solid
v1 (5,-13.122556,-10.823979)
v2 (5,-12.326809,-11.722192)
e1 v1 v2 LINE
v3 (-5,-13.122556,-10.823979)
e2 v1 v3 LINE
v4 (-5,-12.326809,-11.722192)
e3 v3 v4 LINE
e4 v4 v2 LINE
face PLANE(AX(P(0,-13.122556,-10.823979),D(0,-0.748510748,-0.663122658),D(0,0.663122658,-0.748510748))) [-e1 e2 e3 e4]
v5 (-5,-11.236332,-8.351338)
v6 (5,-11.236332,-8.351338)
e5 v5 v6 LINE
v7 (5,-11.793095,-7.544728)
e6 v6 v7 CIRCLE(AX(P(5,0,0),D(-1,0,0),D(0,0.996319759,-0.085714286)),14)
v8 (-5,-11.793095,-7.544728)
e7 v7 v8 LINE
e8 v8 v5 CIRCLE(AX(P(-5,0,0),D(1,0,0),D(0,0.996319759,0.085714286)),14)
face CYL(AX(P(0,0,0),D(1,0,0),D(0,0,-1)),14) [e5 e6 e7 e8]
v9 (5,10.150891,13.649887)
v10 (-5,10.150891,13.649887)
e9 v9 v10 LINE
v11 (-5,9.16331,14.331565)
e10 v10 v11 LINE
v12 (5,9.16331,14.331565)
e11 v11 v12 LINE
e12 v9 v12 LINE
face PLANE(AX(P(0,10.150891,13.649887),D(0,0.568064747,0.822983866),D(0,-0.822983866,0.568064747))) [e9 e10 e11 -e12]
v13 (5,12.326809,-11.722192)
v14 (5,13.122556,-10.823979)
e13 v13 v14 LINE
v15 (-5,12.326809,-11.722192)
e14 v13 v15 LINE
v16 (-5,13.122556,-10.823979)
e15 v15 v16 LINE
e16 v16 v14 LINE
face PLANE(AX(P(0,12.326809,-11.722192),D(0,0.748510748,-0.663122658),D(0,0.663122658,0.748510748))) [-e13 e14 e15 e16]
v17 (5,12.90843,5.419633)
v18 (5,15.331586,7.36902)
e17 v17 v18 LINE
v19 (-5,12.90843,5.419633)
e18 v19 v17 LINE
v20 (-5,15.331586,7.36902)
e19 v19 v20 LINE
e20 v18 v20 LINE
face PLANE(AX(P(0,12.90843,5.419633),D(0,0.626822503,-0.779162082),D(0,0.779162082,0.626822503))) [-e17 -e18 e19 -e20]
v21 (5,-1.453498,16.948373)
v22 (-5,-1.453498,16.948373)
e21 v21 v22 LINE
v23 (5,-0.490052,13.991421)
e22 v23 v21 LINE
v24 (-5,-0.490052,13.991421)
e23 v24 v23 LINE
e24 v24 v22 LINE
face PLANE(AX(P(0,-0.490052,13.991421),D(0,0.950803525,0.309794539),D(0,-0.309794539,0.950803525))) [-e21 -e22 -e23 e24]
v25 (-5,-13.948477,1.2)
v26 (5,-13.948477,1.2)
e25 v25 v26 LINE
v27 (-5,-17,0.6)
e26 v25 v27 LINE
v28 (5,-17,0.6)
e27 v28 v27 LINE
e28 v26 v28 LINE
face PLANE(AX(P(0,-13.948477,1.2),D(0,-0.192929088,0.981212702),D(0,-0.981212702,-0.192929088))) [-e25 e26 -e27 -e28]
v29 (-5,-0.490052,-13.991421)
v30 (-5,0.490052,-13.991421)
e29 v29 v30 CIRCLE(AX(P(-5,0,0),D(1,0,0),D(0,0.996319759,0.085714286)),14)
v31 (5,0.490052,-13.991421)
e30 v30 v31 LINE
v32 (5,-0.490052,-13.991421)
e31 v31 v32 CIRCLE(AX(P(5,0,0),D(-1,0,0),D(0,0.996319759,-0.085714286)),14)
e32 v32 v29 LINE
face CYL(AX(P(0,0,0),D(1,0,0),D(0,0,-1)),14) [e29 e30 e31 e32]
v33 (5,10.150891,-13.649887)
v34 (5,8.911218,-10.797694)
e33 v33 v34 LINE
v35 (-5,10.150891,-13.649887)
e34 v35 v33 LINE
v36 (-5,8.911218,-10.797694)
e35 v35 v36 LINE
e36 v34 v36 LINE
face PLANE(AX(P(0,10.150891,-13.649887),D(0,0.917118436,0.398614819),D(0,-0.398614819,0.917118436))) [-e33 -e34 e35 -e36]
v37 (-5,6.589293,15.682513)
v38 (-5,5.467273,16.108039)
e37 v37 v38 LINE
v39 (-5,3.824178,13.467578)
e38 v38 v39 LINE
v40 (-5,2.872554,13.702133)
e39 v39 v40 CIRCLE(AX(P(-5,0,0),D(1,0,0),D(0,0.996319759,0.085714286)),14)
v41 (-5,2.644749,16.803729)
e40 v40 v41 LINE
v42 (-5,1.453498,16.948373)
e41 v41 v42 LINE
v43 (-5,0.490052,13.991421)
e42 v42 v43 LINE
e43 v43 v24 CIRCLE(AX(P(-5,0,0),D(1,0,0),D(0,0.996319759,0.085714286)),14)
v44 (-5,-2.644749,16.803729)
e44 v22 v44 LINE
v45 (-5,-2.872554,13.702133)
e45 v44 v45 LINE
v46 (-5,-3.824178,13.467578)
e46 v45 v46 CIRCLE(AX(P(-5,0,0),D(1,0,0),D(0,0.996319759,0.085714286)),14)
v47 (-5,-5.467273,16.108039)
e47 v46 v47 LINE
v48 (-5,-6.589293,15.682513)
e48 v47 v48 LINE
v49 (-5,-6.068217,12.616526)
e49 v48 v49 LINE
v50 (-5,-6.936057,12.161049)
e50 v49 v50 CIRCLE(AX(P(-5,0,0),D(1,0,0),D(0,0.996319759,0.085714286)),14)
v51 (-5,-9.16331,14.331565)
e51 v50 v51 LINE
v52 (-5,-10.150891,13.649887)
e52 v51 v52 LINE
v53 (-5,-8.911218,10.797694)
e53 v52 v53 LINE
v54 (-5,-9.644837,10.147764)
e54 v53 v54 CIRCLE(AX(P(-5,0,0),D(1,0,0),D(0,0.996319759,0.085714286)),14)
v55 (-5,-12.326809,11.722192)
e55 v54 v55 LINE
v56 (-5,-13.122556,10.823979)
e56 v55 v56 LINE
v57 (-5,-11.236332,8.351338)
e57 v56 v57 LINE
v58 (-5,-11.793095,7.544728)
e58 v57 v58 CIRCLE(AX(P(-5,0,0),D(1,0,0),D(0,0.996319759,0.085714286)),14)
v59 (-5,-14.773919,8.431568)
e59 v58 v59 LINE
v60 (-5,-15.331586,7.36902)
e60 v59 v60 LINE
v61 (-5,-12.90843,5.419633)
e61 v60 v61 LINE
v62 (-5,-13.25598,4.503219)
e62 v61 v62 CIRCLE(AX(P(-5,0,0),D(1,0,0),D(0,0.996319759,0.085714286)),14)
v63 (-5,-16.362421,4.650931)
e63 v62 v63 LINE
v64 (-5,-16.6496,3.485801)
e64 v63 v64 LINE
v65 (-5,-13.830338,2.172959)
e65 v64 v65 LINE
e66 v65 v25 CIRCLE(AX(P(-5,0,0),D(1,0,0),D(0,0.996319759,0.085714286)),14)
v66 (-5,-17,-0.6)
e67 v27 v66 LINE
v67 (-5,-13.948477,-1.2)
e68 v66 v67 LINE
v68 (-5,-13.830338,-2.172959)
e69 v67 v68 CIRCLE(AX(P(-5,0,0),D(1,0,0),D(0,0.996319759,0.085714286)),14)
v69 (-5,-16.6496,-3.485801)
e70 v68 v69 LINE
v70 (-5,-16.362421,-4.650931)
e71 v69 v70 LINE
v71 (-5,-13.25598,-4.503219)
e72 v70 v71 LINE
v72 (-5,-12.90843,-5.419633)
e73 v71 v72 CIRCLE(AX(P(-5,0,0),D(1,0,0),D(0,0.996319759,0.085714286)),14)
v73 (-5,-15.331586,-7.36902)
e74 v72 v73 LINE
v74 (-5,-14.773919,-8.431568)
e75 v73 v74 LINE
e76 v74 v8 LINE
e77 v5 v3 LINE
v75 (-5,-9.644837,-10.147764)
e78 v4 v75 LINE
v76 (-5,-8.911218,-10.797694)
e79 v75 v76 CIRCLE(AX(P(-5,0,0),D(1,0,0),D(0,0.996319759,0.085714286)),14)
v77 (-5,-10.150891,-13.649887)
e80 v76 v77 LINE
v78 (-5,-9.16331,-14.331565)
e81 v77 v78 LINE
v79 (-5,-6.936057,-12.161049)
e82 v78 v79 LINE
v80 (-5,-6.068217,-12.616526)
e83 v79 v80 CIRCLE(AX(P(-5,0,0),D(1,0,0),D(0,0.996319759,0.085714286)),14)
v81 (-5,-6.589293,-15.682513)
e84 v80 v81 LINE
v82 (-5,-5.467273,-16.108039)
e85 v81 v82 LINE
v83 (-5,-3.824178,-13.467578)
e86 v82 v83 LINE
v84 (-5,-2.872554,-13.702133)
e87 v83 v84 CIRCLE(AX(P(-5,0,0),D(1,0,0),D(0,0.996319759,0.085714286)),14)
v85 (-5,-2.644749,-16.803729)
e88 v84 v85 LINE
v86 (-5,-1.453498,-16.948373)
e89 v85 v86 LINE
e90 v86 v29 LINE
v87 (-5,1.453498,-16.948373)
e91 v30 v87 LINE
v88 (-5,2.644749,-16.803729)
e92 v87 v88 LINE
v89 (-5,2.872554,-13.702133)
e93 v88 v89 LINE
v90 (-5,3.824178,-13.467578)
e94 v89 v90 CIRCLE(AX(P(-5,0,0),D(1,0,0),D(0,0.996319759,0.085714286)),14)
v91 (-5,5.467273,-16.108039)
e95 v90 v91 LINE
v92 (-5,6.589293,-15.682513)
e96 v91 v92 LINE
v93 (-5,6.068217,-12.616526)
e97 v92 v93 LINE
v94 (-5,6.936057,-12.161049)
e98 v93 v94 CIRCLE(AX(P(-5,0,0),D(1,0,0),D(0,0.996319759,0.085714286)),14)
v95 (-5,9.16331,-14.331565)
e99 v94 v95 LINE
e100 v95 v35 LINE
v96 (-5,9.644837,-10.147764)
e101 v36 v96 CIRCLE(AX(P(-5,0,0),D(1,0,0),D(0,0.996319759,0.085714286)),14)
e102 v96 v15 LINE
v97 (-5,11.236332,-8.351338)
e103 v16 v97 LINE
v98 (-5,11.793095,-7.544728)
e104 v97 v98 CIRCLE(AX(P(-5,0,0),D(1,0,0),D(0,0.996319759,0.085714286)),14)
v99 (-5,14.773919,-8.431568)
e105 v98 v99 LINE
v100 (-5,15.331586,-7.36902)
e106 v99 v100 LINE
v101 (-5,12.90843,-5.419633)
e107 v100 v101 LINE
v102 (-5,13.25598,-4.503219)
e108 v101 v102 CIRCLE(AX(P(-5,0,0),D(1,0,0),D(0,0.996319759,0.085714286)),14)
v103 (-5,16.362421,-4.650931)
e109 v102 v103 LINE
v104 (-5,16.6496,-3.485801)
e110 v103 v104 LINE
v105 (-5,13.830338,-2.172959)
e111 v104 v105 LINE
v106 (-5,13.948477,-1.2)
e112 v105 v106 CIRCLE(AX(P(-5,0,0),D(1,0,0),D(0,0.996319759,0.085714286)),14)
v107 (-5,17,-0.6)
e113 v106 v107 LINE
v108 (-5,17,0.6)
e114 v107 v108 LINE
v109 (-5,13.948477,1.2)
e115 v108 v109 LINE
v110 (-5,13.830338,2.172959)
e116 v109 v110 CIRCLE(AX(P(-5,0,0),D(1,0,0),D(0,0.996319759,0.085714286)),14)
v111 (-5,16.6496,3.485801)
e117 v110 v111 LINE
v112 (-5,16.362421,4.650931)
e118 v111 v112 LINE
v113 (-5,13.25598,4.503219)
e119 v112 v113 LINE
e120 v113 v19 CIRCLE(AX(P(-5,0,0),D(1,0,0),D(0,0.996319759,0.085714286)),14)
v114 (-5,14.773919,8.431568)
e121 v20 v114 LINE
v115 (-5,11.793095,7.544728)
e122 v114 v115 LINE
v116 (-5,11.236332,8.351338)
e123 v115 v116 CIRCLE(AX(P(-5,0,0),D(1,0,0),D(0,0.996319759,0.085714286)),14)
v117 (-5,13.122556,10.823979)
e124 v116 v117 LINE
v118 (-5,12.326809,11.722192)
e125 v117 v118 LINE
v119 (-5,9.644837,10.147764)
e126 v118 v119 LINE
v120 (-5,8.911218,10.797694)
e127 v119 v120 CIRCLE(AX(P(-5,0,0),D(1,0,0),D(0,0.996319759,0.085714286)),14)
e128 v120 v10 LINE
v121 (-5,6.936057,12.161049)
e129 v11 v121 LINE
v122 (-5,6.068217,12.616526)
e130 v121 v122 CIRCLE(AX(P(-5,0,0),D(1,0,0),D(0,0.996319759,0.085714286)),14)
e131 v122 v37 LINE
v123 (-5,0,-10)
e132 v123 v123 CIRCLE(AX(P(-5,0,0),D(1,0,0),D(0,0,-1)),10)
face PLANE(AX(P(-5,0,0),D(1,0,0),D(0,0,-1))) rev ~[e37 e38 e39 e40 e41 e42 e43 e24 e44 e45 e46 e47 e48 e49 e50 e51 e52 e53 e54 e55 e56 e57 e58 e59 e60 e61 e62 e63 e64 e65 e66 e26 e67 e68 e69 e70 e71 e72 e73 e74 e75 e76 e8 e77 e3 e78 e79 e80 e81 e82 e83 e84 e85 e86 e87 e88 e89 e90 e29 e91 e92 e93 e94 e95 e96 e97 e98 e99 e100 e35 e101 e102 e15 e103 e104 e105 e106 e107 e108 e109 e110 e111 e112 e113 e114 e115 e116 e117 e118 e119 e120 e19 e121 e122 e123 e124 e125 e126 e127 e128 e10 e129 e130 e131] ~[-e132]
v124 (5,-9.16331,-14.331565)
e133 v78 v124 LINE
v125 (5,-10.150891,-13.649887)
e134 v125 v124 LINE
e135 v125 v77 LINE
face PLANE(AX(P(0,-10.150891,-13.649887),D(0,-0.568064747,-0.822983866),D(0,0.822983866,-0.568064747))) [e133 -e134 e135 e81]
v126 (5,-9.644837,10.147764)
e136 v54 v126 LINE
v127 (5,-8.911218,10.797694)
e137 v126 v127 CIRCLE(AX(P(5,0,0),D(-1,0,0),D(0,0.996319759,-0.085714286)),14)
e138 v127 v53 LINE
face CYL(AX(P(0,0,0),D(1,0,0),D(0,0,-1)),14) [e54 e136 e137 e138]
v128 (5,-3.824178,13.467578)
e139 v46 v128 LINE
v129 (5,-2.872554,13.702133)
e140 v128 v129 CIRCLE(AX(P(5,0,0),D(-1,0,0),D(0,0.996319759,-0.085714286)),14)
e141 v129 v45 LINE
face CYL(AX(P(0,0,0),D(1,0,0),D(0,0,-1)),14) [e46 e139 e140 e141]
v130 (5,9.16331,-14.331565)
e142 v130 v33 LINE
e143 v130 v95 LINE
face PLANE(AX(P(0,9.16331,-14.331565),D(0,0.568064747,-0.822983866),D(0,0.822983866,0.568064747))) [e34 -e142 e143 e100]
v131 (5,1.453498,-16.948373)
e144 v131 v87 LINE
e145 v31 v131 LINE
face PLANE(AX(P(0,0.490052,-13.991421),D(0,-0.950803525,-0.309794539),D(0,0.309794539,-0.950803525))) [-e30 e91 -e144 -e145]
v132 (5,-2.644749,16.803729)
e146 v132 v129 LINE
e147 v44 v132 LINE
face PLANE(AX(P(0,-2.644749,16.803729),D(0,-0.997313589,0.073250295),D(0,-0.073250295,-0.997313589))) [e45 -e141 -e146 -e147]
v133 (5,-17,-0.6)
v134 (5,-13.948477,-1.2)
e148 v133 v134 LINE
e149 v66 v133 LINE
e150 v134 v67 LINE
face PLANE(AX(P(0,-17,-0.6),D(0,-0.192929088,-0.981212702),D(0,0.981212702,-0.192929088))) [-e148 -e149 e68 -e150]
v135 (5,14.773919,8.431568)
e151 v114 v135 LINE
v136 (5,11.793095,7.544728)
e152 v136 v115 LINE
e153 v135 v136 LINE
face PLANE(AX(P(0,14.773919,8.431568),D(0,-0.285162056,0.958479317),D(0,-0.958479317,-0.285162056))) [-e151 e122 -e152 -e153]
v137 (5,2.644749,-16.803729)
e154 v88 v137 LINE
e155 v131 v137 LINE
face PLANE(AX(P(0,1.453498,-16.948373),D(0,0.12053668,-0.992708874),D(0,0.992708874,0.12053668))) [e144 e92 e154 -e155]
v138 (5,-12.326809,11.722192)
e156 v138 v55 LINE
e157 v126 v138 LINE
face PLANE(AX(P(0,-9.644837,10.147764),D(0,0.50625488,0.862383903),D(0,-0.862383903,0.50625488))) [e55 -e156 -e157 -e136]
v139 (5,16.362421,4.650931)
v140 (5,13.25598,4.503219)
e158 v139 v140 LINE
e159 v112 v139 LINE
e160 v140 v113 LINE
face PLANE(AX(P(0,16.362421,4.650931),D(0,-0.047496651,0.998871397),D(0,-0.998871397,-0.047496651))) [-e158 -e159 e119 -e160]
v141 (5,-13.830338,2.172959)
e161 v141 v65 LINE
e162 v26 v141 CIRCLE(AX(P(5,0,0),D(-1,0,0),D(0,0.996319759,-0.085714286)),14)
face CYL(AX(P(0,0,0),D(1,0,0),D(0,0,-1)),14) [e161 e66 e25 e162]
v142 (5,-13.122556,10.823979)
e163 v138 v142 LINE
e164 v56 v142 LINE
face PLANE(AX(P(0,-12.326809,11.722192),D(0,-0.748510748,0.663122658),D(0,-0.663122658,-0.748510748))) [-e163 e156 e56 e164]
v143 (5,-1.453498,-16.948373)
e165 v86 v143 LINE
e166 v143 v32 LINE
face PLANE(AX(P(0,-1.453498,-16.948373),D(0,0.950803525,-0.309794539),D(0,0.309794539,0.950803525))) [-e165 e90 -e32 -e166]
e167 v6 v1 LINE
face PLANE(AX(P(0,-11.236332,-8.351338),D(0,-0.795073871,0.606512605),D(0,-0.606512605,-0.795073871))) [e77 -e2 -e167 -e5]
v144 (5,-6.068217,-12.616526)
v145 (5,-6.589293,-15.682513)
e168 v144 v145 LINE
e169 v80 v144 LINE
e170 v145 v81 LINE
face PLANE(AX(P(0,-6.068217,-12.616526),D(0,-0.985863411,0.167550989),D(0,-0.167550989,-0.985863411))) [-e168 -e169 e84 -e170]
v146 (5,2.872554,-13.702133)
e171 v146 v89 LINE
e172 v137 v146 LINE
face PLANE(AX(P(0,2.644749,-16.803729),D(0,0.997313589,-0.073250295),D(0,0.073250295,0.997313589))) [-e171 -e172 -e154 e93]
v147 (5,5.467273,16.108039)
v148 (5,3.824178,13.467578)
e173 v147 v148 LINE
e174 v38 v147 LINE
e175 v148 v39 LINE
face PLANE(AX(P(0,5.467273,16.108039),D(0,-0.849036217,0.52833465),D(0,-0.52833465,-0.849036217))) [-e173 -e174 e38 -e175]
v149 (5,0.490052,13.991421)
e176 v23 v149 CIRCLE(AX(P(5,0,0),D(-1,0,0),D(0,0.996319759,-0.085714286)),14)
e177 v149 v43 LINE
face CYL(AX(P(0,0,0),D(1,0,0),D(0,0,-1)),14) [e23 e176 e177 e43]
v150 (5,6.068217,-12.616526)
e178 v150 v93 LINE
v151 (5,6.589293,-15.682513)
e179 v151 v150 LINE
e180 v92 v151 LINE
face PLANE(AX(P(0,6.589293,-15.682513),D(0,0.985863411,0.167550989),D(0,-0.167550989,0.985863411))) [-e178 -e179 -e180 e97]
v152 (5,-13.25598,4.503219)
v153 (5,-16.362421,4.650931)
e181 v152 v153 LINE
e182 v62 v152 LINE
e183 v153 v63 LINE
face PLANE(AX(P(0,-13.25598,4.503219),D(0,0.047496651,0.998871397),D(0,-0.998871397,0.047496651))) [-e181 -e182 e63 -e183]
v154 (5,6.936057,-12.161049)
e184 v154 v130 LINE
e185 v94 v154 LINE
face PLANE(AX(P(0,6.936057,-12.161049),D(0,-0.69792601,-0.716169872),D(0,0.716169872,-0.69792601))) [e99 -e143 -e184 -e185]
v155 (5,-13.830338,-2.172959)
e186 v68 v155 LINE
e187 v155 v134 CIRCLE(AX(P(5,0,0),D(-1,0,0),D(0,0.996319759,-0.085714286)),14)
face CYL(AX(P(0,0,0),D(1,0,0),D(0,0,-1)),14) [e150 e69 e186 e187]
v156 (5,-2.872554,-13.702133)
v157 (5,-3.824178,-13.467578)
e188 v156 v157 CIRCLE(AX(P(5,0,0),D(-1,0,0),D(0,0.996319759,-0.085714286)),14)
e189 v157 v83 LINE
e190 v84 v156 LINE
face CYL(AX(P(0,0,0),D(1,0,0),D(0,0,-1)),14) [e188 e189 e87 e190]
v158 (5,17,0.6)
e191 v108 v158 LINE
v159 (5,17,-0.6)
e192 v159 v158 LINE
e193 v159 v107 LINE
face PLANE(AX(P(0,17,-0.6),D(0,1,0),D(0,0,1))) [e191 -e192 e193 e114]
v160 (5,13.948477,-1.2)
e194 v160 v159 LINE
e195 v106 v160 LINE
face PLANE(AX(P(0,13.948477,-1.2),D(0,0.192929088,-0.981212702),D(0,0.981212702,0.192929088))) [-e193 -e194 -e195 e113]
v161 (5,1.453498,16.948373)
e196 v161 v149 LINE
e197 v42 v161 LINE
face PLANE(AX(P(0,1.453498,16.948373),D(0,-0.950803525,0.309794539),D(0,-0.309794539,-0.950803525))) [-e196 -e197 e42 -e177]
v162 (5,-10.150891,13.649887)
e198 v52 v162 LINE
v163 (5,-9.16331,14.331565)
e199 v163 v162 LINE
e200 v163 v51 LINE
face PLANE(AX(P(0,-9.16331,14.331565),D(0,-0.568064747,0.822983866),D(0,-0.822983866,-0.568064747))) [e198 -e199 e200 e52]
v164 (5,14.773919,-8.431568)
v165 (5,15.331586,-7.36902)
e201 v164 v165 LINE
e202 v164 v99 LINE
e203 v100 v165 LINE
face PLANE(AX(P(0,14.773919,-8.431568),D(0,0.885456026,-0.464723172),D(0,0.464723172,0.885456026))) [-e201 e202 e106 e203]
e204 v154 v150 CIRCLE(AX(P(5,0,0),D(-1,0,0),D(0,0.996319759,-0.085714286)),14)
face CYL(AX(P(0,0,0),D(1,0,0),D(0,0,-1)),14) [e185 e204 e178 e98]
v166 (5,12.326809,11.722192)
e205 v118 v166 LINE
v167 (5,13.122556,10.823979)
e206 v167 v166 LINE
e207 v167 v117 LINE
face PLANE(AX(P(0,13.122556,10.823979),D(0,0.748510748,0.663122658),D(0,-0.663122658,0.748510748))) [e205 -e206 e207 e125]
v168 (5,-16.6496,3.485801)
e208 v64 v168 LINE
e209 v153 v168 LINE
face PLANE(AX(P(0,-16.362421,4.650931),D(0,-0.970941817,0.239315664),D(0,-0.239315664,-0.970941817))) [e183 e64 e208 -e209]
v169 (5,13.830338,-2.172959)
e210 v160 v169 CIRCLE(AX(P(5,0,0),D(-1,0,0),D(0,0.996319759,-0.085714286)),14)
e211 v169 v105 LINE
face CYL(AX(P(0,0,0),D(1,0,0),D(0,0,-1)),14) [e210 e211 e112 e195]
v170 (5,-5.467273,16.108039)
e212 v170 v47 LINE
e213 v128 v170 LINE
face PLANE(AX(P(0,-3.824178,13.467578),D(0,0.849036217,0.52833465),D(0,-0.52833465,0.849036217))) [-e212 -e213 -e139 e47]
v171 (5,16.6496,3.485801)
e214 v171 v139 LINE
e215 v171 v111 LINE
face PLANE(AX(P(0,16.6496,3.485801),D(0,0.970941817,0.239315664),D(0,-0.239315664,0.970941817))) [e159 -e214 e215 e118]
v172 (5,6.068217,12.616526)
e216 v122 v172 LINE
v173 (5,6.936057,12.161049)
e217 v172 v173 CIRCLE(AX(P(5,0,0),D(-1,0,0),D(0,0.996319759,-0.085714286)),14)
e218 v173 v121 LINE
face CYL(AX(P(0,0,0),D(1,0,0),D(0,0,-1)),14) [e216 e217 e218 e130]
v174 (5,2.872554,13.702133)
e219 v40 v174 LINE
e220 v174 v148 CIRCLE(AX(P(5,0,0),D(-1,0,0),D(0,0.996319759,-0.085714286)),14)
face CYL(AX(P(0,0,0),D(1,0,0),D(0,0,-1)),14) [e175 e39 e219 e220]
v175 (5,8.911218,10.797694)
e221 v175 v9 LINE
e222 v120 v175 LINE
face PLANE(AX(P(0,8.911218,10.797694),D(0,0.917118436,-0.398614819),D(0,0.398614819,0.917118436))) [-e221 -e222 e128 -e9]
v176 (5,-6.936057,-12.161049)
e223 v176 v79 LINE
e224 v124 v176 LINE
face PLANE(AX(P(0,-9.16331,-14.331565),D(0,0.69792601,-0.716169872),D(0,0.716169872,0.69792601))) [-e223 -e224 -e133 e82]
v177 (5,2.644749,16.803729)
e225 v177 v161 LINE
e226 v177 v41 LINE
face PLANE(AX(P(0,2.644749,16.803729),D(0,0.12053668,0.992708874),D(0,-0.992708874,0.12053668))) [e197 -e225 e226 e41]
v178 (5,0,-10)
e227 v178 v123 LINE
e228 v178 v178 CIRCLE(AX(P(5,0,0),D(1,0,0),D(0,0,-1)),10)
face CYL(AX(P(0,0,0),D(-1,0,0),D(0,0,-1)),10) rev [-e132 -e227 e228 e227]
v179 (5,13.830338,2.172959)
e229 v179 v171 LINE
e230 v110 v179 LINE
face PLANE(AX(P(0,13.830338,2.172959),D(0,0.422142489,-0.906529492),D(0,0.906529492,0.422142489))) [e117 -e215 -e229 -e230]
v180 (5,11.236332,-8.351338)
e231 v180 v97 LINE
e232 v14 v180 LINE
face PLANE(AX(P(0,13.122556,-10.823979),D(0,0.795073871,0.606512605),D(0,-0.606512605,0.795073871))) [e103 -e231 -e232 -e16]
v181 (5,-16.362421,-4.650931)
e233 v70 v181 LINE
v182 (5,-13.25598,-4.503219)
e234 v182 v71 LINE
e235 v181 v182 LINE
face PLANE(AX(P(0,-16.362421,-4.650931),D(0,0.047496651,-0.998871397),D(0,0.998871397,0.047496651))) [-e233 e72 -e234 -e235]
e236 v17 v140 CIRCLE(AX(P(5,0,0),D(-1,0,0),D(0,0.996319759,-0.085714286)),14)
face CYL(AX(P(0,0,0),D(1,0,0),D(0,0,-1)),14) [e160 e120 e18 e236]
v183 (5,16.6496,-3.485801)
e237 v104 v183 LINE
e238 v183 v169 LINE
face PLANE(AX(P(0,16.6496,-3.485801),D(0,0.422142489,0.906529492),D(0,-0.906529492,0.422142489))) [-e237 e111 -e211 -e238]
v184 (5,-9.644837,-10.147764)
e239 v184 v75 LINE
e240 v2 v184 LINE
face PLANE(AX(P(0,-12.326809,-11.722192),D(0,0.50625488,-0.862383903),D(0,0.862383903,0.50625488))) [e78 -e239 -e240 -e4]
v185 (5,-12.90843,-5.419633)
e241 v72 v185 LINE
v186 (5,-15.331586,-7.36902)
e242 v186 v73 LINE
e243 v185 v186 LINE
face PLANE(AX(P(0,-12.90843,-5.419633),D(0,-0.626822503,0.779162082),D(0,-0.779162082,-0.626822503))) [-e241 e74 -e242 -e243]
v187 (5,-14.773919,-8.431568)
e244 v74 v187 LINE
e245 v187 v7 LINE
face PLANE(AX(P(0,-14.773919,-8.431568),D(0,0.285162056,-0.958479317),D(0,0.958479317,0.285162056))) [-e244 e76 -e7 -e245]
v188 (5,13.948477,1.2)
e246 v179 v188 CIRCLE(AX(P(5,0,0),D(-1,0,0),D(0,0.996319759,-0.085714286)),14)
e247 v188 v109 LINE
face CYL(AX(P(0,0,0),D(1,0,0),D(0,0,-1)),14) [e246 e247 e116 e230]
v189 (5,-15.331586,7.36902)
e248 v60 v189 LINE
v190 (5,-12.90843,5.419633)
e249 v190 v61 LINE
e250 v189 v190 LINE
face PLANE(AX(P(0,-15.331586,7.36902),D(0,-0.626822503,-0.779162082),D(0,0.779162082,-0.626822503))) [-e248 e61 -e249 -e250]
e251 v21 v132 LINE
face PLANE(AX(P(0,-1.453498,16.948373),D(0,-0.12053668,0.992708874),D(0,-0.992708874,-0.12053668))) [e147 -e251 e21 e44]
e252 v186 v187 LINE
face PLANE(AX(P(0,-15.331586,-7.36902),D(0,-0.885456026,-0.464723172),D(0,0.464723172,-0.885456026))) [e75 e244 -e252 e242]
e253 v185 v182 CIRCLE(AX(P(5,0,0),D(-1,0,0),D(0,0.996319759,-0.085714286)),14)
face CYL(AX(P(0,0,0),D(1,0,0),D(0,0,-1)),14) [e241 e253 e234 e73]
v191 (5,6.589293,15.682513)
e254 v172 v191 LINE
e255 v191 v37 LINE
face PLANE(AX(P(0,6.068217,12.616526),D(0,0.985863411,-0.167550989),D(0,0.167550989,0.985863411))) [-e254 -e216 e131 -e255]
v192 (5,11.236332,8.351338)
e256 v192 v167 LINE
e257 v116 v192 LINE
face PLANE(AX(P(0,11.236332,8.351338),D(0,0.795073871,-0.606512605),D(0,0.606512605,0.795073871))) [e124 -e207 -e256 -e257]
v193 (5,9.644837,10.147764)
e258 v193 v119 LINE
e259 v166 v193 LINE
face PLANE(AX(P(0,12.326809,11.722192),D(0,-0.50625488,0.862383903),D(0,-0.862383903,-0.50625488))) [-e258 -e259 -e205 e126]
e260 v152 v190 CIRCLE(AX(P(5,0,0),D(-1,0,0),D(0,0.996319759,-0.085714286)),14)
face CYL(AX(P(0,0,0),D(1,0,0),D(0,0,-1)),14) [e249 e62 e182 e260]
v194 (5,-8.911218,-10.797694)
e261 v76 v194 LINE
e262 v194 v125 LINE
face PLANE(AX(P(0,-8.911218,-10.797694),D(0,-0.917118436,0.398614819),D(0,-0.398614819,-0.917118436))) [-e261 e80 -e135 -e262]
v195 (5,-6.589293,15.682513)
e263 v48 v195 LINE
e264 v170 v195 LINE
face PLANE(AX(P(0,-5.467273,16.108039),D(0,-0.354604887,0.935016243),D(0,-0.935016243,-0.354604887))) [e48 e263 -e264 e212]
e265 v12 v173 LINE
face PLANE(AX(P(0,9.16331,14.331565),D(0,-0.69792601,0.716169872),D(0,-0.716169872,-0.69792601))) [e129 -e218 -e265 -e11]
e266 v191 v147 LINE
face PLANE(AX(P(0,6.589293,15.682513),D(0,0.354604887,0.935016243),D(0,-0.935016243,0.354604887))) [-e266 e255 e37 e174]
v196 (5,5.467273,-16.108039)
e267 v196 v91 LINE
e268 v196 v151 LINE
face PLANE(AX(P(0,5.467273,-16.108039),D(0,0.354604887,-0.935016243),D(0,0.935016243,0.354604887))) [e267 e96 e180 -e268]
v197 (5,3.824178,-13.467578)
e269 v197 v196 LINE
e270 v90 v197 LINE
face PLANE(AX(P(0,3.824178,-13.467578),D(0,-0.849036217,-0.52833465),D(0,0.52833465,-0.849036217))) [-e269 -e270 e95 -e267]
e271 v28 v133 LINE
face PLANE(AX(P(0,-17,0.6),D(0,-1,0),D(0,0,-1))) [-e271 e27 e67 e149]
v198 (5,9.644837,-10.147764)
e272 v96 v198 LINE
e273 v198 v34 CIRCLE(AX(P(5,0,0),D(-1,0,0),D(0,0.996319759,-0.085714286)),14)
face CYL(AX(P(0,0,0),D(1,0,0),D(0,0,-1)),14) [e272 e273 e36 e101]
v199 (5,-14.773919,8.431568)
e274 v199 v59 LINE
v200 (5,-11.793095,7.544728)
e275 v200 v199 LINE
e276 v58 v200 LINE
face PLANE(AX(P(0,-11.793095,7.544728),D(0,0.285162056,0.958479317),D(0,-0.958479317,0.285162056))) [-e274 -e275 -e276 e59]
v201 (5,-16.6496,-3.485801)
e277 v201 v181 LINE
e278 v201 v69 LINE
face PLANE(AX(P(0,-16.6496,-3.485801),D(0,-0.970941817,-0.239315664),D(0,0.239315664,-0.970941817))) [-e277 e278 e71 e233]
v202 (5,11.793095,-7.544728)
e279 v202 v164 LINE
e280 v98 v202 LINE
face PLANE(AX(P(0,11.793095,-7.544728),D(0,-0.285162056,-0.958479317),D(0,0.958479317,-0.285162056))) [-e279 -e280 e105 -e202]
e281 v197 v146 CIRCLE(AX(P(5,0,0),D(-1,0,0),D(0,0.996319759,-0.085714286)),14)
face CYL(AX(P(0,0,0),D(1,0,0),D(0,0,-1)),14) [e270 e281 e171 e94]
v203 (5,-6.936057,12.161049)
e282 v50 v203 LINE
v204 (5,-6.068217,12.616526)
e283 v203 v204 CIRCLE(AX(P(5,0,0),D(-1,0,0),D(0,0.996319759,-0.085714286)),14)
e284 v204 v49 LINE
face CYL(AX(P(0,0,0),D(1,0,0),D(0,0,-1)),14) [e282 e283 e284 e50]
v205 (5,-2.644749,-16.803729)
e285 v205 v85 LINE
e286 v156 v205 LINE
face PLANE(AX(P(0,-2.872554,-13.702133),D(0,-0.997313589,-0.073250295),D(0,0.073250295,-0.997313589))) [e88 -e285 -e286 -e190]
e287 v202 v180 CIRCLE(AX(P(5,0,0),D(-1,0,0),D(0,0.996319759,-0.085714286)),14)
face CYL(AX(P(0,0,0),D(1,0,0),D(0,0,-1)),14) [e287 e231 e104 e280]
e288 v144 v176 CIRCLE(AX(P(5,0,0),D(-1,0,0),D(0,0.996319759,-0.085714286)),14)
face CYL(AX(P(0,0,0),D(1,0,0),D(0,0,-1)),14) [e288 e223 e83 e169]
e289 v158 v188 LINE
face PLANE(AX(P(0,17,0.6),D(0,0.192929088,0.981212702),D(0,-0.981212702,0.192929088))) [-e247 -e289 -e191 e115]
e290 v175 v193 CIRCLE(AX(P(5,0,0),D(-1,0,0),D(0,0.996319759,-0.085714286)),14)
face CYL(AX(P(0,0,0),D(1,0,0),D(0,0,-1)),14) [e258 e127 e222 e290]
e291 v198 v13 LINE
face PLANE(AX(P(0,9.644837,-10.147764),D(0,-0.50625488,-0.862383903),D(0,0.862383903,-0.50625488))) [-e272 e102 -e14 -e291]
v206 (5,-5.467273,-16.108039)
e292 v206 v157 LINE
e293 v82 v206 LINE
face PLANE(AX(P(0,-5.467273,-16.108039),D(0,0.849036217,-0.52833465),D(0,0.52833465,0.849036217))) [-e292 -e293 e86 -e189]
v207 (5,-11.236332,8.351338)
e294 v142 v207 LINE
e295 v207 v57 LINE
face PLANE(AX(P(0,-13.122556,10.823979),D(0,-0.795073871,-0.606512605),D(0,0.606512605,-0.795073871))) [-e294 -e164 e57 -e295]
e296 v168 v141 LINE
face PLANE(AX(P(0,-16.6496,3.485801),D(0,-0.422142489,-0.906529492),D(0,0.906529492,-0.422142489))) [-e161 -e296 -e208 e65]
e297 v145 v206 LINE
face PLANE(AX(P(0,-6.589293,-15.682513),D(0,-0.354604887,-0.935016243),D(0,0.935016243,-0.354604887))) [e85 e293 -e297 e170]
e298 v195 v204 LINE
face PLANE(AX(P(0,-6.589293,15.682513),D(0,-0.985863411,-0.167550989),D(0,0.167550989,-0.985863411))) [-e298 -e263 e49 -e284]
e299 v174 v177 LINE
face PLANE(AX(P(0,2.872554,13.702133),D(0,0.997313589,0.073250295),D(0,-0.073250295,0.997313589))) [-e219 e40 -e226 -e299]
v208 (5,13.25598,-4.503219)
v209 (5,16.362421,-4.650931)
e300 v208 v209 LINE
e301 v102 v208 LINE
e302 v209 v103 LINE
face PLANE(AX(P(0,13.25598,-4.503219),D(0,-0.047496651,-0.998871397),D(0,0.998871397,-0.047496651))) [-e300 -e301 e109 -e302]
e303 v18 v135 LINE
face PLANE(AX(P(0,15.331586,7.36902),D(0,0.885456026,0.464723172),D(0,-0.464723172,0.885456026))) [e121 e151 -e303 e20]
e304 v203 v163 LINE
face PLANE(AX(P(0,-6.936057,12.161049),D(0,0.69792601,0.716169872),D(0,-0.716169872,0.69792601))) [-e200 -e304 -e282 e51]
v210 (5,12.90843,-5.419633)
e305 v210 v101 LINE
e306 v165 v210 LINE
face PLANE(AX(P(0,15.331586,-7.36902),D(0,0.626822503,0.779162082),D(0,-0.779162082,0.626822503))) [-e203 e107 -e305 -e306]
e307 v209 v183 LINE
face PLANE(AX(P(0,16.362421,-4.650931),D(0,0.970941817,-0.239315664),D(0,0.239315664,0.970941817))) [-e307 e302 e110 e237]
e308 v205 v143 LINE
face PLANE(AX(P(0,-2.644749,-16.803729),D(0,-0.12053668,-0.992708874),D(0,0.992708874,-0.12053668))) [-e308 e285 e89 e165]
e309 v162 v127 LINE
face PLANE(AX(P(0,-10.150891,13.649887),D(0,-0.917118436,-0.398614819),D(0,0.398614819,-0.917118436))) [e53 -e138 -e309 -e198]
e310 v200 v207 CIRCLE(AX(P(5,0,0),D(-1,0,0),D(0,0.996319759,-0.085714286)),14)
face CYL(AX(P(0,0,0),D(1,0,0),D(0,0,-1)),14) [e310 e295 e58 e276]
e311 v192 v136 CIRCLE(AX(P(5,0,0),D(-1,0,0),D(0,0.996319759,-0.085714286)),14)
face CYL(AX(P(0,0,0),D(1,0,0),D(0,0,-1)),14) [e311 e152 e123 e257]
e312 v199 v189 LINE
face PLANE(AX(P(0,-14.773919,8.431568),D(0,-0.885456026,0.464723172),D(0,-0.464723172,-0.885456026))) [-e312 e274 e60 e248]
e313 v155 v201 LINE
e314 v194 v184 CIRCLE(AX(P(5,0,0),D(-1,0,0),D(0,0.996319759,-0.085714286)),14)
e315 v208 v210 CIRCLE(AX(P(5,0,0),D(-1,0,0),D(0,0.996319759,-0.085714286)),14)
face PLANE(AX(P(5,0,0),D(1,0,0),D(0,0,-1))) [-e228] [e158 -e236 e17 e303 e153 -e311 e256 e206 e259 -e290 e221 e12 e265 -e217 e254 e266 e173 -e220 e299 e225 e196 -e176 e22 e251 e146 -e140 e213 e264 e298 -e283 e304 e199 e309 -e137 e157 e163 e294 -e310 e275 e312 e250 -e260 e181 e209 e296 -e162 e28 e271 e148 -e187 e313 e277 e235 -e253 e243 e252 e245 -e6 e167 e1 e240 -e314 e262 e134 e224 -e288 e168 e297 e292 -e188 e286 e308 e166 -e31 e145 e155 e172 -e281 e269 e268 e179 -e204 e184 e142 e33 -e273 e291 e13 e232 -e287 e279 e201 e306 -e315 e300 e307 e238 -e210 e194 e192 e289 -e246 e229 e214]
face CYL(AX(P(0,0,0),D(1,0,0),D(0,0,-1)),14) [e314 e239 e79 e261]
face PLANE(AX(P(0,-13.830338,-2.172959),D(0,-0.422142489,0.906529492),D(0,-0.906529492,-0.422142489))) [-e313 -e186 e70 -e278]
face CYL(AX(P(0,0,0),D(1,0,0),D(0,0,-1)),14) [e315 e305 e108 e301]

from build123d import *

# Parameters (mm, degrees)
SKETCH1_R           = 10
BOSS_EXTRUDE1_DEPTH = 5
BOSS_EXTRUDE2_DEPTH = 5
CIRPATTERN1_COUNT   = 26


with BuildPart() as part:
    # Sketch1 → Boss-Extrude1 (new, symmetric)
    with BuildSketch(Plane.YZ):
        with BuildLine():
            ThreePointArc((14, 0), (13.987113224, 0.600552799), (13.948476619, 1.2))
            ThreePointArc((13.948476619, 1.2), (-14, 0), (13.948476619, -1.2))
            ThreePointArc((13.948476619, -1.2), (13.987113224, -0.600552799), (14, 0))
        make_face()
        Circle(SKETCH1_R, mode=Mode.SUBTRACT)
    extrude(amount=BOSS_EXTRUDE1_DEPTH, both=True)

    # Sketch1<3> → Boss-Extrude2 (add, symmetric)
    with BuildSketch(Plane.YZ):
        with BuildLine():
            Line((17, -0.6), (17, 0.6))
            Line((17, 0.6), (13.948476619, 1.2))
            ThreePointArc((13.948476619, 1.2), (13.987113224, 0.600552799), (14, 0))
            ThreePointArc((14, 0), (13.987113224, -0.600552799), (13.948476619, -1.2))
            Line((13.948476619, -1.2), (17, -0.6))
        make_face()
    boss_extrude2 = extrude(amount=BOSS_EXTRUDE2_DEPTH, both=True)

    # CirPattern1: Boss-Extrude2 ×26 about axis
    cirpattern1_axis = Axis((5, 0, 0), (1, 0, 0))
    for i in range(1, CIRPATTERN1_COUNT):
        add(boss_extrude2.rotate(cirpattern1_axis, i * 360 / CIRPATTERN1_COUNT))


solid = part.part
